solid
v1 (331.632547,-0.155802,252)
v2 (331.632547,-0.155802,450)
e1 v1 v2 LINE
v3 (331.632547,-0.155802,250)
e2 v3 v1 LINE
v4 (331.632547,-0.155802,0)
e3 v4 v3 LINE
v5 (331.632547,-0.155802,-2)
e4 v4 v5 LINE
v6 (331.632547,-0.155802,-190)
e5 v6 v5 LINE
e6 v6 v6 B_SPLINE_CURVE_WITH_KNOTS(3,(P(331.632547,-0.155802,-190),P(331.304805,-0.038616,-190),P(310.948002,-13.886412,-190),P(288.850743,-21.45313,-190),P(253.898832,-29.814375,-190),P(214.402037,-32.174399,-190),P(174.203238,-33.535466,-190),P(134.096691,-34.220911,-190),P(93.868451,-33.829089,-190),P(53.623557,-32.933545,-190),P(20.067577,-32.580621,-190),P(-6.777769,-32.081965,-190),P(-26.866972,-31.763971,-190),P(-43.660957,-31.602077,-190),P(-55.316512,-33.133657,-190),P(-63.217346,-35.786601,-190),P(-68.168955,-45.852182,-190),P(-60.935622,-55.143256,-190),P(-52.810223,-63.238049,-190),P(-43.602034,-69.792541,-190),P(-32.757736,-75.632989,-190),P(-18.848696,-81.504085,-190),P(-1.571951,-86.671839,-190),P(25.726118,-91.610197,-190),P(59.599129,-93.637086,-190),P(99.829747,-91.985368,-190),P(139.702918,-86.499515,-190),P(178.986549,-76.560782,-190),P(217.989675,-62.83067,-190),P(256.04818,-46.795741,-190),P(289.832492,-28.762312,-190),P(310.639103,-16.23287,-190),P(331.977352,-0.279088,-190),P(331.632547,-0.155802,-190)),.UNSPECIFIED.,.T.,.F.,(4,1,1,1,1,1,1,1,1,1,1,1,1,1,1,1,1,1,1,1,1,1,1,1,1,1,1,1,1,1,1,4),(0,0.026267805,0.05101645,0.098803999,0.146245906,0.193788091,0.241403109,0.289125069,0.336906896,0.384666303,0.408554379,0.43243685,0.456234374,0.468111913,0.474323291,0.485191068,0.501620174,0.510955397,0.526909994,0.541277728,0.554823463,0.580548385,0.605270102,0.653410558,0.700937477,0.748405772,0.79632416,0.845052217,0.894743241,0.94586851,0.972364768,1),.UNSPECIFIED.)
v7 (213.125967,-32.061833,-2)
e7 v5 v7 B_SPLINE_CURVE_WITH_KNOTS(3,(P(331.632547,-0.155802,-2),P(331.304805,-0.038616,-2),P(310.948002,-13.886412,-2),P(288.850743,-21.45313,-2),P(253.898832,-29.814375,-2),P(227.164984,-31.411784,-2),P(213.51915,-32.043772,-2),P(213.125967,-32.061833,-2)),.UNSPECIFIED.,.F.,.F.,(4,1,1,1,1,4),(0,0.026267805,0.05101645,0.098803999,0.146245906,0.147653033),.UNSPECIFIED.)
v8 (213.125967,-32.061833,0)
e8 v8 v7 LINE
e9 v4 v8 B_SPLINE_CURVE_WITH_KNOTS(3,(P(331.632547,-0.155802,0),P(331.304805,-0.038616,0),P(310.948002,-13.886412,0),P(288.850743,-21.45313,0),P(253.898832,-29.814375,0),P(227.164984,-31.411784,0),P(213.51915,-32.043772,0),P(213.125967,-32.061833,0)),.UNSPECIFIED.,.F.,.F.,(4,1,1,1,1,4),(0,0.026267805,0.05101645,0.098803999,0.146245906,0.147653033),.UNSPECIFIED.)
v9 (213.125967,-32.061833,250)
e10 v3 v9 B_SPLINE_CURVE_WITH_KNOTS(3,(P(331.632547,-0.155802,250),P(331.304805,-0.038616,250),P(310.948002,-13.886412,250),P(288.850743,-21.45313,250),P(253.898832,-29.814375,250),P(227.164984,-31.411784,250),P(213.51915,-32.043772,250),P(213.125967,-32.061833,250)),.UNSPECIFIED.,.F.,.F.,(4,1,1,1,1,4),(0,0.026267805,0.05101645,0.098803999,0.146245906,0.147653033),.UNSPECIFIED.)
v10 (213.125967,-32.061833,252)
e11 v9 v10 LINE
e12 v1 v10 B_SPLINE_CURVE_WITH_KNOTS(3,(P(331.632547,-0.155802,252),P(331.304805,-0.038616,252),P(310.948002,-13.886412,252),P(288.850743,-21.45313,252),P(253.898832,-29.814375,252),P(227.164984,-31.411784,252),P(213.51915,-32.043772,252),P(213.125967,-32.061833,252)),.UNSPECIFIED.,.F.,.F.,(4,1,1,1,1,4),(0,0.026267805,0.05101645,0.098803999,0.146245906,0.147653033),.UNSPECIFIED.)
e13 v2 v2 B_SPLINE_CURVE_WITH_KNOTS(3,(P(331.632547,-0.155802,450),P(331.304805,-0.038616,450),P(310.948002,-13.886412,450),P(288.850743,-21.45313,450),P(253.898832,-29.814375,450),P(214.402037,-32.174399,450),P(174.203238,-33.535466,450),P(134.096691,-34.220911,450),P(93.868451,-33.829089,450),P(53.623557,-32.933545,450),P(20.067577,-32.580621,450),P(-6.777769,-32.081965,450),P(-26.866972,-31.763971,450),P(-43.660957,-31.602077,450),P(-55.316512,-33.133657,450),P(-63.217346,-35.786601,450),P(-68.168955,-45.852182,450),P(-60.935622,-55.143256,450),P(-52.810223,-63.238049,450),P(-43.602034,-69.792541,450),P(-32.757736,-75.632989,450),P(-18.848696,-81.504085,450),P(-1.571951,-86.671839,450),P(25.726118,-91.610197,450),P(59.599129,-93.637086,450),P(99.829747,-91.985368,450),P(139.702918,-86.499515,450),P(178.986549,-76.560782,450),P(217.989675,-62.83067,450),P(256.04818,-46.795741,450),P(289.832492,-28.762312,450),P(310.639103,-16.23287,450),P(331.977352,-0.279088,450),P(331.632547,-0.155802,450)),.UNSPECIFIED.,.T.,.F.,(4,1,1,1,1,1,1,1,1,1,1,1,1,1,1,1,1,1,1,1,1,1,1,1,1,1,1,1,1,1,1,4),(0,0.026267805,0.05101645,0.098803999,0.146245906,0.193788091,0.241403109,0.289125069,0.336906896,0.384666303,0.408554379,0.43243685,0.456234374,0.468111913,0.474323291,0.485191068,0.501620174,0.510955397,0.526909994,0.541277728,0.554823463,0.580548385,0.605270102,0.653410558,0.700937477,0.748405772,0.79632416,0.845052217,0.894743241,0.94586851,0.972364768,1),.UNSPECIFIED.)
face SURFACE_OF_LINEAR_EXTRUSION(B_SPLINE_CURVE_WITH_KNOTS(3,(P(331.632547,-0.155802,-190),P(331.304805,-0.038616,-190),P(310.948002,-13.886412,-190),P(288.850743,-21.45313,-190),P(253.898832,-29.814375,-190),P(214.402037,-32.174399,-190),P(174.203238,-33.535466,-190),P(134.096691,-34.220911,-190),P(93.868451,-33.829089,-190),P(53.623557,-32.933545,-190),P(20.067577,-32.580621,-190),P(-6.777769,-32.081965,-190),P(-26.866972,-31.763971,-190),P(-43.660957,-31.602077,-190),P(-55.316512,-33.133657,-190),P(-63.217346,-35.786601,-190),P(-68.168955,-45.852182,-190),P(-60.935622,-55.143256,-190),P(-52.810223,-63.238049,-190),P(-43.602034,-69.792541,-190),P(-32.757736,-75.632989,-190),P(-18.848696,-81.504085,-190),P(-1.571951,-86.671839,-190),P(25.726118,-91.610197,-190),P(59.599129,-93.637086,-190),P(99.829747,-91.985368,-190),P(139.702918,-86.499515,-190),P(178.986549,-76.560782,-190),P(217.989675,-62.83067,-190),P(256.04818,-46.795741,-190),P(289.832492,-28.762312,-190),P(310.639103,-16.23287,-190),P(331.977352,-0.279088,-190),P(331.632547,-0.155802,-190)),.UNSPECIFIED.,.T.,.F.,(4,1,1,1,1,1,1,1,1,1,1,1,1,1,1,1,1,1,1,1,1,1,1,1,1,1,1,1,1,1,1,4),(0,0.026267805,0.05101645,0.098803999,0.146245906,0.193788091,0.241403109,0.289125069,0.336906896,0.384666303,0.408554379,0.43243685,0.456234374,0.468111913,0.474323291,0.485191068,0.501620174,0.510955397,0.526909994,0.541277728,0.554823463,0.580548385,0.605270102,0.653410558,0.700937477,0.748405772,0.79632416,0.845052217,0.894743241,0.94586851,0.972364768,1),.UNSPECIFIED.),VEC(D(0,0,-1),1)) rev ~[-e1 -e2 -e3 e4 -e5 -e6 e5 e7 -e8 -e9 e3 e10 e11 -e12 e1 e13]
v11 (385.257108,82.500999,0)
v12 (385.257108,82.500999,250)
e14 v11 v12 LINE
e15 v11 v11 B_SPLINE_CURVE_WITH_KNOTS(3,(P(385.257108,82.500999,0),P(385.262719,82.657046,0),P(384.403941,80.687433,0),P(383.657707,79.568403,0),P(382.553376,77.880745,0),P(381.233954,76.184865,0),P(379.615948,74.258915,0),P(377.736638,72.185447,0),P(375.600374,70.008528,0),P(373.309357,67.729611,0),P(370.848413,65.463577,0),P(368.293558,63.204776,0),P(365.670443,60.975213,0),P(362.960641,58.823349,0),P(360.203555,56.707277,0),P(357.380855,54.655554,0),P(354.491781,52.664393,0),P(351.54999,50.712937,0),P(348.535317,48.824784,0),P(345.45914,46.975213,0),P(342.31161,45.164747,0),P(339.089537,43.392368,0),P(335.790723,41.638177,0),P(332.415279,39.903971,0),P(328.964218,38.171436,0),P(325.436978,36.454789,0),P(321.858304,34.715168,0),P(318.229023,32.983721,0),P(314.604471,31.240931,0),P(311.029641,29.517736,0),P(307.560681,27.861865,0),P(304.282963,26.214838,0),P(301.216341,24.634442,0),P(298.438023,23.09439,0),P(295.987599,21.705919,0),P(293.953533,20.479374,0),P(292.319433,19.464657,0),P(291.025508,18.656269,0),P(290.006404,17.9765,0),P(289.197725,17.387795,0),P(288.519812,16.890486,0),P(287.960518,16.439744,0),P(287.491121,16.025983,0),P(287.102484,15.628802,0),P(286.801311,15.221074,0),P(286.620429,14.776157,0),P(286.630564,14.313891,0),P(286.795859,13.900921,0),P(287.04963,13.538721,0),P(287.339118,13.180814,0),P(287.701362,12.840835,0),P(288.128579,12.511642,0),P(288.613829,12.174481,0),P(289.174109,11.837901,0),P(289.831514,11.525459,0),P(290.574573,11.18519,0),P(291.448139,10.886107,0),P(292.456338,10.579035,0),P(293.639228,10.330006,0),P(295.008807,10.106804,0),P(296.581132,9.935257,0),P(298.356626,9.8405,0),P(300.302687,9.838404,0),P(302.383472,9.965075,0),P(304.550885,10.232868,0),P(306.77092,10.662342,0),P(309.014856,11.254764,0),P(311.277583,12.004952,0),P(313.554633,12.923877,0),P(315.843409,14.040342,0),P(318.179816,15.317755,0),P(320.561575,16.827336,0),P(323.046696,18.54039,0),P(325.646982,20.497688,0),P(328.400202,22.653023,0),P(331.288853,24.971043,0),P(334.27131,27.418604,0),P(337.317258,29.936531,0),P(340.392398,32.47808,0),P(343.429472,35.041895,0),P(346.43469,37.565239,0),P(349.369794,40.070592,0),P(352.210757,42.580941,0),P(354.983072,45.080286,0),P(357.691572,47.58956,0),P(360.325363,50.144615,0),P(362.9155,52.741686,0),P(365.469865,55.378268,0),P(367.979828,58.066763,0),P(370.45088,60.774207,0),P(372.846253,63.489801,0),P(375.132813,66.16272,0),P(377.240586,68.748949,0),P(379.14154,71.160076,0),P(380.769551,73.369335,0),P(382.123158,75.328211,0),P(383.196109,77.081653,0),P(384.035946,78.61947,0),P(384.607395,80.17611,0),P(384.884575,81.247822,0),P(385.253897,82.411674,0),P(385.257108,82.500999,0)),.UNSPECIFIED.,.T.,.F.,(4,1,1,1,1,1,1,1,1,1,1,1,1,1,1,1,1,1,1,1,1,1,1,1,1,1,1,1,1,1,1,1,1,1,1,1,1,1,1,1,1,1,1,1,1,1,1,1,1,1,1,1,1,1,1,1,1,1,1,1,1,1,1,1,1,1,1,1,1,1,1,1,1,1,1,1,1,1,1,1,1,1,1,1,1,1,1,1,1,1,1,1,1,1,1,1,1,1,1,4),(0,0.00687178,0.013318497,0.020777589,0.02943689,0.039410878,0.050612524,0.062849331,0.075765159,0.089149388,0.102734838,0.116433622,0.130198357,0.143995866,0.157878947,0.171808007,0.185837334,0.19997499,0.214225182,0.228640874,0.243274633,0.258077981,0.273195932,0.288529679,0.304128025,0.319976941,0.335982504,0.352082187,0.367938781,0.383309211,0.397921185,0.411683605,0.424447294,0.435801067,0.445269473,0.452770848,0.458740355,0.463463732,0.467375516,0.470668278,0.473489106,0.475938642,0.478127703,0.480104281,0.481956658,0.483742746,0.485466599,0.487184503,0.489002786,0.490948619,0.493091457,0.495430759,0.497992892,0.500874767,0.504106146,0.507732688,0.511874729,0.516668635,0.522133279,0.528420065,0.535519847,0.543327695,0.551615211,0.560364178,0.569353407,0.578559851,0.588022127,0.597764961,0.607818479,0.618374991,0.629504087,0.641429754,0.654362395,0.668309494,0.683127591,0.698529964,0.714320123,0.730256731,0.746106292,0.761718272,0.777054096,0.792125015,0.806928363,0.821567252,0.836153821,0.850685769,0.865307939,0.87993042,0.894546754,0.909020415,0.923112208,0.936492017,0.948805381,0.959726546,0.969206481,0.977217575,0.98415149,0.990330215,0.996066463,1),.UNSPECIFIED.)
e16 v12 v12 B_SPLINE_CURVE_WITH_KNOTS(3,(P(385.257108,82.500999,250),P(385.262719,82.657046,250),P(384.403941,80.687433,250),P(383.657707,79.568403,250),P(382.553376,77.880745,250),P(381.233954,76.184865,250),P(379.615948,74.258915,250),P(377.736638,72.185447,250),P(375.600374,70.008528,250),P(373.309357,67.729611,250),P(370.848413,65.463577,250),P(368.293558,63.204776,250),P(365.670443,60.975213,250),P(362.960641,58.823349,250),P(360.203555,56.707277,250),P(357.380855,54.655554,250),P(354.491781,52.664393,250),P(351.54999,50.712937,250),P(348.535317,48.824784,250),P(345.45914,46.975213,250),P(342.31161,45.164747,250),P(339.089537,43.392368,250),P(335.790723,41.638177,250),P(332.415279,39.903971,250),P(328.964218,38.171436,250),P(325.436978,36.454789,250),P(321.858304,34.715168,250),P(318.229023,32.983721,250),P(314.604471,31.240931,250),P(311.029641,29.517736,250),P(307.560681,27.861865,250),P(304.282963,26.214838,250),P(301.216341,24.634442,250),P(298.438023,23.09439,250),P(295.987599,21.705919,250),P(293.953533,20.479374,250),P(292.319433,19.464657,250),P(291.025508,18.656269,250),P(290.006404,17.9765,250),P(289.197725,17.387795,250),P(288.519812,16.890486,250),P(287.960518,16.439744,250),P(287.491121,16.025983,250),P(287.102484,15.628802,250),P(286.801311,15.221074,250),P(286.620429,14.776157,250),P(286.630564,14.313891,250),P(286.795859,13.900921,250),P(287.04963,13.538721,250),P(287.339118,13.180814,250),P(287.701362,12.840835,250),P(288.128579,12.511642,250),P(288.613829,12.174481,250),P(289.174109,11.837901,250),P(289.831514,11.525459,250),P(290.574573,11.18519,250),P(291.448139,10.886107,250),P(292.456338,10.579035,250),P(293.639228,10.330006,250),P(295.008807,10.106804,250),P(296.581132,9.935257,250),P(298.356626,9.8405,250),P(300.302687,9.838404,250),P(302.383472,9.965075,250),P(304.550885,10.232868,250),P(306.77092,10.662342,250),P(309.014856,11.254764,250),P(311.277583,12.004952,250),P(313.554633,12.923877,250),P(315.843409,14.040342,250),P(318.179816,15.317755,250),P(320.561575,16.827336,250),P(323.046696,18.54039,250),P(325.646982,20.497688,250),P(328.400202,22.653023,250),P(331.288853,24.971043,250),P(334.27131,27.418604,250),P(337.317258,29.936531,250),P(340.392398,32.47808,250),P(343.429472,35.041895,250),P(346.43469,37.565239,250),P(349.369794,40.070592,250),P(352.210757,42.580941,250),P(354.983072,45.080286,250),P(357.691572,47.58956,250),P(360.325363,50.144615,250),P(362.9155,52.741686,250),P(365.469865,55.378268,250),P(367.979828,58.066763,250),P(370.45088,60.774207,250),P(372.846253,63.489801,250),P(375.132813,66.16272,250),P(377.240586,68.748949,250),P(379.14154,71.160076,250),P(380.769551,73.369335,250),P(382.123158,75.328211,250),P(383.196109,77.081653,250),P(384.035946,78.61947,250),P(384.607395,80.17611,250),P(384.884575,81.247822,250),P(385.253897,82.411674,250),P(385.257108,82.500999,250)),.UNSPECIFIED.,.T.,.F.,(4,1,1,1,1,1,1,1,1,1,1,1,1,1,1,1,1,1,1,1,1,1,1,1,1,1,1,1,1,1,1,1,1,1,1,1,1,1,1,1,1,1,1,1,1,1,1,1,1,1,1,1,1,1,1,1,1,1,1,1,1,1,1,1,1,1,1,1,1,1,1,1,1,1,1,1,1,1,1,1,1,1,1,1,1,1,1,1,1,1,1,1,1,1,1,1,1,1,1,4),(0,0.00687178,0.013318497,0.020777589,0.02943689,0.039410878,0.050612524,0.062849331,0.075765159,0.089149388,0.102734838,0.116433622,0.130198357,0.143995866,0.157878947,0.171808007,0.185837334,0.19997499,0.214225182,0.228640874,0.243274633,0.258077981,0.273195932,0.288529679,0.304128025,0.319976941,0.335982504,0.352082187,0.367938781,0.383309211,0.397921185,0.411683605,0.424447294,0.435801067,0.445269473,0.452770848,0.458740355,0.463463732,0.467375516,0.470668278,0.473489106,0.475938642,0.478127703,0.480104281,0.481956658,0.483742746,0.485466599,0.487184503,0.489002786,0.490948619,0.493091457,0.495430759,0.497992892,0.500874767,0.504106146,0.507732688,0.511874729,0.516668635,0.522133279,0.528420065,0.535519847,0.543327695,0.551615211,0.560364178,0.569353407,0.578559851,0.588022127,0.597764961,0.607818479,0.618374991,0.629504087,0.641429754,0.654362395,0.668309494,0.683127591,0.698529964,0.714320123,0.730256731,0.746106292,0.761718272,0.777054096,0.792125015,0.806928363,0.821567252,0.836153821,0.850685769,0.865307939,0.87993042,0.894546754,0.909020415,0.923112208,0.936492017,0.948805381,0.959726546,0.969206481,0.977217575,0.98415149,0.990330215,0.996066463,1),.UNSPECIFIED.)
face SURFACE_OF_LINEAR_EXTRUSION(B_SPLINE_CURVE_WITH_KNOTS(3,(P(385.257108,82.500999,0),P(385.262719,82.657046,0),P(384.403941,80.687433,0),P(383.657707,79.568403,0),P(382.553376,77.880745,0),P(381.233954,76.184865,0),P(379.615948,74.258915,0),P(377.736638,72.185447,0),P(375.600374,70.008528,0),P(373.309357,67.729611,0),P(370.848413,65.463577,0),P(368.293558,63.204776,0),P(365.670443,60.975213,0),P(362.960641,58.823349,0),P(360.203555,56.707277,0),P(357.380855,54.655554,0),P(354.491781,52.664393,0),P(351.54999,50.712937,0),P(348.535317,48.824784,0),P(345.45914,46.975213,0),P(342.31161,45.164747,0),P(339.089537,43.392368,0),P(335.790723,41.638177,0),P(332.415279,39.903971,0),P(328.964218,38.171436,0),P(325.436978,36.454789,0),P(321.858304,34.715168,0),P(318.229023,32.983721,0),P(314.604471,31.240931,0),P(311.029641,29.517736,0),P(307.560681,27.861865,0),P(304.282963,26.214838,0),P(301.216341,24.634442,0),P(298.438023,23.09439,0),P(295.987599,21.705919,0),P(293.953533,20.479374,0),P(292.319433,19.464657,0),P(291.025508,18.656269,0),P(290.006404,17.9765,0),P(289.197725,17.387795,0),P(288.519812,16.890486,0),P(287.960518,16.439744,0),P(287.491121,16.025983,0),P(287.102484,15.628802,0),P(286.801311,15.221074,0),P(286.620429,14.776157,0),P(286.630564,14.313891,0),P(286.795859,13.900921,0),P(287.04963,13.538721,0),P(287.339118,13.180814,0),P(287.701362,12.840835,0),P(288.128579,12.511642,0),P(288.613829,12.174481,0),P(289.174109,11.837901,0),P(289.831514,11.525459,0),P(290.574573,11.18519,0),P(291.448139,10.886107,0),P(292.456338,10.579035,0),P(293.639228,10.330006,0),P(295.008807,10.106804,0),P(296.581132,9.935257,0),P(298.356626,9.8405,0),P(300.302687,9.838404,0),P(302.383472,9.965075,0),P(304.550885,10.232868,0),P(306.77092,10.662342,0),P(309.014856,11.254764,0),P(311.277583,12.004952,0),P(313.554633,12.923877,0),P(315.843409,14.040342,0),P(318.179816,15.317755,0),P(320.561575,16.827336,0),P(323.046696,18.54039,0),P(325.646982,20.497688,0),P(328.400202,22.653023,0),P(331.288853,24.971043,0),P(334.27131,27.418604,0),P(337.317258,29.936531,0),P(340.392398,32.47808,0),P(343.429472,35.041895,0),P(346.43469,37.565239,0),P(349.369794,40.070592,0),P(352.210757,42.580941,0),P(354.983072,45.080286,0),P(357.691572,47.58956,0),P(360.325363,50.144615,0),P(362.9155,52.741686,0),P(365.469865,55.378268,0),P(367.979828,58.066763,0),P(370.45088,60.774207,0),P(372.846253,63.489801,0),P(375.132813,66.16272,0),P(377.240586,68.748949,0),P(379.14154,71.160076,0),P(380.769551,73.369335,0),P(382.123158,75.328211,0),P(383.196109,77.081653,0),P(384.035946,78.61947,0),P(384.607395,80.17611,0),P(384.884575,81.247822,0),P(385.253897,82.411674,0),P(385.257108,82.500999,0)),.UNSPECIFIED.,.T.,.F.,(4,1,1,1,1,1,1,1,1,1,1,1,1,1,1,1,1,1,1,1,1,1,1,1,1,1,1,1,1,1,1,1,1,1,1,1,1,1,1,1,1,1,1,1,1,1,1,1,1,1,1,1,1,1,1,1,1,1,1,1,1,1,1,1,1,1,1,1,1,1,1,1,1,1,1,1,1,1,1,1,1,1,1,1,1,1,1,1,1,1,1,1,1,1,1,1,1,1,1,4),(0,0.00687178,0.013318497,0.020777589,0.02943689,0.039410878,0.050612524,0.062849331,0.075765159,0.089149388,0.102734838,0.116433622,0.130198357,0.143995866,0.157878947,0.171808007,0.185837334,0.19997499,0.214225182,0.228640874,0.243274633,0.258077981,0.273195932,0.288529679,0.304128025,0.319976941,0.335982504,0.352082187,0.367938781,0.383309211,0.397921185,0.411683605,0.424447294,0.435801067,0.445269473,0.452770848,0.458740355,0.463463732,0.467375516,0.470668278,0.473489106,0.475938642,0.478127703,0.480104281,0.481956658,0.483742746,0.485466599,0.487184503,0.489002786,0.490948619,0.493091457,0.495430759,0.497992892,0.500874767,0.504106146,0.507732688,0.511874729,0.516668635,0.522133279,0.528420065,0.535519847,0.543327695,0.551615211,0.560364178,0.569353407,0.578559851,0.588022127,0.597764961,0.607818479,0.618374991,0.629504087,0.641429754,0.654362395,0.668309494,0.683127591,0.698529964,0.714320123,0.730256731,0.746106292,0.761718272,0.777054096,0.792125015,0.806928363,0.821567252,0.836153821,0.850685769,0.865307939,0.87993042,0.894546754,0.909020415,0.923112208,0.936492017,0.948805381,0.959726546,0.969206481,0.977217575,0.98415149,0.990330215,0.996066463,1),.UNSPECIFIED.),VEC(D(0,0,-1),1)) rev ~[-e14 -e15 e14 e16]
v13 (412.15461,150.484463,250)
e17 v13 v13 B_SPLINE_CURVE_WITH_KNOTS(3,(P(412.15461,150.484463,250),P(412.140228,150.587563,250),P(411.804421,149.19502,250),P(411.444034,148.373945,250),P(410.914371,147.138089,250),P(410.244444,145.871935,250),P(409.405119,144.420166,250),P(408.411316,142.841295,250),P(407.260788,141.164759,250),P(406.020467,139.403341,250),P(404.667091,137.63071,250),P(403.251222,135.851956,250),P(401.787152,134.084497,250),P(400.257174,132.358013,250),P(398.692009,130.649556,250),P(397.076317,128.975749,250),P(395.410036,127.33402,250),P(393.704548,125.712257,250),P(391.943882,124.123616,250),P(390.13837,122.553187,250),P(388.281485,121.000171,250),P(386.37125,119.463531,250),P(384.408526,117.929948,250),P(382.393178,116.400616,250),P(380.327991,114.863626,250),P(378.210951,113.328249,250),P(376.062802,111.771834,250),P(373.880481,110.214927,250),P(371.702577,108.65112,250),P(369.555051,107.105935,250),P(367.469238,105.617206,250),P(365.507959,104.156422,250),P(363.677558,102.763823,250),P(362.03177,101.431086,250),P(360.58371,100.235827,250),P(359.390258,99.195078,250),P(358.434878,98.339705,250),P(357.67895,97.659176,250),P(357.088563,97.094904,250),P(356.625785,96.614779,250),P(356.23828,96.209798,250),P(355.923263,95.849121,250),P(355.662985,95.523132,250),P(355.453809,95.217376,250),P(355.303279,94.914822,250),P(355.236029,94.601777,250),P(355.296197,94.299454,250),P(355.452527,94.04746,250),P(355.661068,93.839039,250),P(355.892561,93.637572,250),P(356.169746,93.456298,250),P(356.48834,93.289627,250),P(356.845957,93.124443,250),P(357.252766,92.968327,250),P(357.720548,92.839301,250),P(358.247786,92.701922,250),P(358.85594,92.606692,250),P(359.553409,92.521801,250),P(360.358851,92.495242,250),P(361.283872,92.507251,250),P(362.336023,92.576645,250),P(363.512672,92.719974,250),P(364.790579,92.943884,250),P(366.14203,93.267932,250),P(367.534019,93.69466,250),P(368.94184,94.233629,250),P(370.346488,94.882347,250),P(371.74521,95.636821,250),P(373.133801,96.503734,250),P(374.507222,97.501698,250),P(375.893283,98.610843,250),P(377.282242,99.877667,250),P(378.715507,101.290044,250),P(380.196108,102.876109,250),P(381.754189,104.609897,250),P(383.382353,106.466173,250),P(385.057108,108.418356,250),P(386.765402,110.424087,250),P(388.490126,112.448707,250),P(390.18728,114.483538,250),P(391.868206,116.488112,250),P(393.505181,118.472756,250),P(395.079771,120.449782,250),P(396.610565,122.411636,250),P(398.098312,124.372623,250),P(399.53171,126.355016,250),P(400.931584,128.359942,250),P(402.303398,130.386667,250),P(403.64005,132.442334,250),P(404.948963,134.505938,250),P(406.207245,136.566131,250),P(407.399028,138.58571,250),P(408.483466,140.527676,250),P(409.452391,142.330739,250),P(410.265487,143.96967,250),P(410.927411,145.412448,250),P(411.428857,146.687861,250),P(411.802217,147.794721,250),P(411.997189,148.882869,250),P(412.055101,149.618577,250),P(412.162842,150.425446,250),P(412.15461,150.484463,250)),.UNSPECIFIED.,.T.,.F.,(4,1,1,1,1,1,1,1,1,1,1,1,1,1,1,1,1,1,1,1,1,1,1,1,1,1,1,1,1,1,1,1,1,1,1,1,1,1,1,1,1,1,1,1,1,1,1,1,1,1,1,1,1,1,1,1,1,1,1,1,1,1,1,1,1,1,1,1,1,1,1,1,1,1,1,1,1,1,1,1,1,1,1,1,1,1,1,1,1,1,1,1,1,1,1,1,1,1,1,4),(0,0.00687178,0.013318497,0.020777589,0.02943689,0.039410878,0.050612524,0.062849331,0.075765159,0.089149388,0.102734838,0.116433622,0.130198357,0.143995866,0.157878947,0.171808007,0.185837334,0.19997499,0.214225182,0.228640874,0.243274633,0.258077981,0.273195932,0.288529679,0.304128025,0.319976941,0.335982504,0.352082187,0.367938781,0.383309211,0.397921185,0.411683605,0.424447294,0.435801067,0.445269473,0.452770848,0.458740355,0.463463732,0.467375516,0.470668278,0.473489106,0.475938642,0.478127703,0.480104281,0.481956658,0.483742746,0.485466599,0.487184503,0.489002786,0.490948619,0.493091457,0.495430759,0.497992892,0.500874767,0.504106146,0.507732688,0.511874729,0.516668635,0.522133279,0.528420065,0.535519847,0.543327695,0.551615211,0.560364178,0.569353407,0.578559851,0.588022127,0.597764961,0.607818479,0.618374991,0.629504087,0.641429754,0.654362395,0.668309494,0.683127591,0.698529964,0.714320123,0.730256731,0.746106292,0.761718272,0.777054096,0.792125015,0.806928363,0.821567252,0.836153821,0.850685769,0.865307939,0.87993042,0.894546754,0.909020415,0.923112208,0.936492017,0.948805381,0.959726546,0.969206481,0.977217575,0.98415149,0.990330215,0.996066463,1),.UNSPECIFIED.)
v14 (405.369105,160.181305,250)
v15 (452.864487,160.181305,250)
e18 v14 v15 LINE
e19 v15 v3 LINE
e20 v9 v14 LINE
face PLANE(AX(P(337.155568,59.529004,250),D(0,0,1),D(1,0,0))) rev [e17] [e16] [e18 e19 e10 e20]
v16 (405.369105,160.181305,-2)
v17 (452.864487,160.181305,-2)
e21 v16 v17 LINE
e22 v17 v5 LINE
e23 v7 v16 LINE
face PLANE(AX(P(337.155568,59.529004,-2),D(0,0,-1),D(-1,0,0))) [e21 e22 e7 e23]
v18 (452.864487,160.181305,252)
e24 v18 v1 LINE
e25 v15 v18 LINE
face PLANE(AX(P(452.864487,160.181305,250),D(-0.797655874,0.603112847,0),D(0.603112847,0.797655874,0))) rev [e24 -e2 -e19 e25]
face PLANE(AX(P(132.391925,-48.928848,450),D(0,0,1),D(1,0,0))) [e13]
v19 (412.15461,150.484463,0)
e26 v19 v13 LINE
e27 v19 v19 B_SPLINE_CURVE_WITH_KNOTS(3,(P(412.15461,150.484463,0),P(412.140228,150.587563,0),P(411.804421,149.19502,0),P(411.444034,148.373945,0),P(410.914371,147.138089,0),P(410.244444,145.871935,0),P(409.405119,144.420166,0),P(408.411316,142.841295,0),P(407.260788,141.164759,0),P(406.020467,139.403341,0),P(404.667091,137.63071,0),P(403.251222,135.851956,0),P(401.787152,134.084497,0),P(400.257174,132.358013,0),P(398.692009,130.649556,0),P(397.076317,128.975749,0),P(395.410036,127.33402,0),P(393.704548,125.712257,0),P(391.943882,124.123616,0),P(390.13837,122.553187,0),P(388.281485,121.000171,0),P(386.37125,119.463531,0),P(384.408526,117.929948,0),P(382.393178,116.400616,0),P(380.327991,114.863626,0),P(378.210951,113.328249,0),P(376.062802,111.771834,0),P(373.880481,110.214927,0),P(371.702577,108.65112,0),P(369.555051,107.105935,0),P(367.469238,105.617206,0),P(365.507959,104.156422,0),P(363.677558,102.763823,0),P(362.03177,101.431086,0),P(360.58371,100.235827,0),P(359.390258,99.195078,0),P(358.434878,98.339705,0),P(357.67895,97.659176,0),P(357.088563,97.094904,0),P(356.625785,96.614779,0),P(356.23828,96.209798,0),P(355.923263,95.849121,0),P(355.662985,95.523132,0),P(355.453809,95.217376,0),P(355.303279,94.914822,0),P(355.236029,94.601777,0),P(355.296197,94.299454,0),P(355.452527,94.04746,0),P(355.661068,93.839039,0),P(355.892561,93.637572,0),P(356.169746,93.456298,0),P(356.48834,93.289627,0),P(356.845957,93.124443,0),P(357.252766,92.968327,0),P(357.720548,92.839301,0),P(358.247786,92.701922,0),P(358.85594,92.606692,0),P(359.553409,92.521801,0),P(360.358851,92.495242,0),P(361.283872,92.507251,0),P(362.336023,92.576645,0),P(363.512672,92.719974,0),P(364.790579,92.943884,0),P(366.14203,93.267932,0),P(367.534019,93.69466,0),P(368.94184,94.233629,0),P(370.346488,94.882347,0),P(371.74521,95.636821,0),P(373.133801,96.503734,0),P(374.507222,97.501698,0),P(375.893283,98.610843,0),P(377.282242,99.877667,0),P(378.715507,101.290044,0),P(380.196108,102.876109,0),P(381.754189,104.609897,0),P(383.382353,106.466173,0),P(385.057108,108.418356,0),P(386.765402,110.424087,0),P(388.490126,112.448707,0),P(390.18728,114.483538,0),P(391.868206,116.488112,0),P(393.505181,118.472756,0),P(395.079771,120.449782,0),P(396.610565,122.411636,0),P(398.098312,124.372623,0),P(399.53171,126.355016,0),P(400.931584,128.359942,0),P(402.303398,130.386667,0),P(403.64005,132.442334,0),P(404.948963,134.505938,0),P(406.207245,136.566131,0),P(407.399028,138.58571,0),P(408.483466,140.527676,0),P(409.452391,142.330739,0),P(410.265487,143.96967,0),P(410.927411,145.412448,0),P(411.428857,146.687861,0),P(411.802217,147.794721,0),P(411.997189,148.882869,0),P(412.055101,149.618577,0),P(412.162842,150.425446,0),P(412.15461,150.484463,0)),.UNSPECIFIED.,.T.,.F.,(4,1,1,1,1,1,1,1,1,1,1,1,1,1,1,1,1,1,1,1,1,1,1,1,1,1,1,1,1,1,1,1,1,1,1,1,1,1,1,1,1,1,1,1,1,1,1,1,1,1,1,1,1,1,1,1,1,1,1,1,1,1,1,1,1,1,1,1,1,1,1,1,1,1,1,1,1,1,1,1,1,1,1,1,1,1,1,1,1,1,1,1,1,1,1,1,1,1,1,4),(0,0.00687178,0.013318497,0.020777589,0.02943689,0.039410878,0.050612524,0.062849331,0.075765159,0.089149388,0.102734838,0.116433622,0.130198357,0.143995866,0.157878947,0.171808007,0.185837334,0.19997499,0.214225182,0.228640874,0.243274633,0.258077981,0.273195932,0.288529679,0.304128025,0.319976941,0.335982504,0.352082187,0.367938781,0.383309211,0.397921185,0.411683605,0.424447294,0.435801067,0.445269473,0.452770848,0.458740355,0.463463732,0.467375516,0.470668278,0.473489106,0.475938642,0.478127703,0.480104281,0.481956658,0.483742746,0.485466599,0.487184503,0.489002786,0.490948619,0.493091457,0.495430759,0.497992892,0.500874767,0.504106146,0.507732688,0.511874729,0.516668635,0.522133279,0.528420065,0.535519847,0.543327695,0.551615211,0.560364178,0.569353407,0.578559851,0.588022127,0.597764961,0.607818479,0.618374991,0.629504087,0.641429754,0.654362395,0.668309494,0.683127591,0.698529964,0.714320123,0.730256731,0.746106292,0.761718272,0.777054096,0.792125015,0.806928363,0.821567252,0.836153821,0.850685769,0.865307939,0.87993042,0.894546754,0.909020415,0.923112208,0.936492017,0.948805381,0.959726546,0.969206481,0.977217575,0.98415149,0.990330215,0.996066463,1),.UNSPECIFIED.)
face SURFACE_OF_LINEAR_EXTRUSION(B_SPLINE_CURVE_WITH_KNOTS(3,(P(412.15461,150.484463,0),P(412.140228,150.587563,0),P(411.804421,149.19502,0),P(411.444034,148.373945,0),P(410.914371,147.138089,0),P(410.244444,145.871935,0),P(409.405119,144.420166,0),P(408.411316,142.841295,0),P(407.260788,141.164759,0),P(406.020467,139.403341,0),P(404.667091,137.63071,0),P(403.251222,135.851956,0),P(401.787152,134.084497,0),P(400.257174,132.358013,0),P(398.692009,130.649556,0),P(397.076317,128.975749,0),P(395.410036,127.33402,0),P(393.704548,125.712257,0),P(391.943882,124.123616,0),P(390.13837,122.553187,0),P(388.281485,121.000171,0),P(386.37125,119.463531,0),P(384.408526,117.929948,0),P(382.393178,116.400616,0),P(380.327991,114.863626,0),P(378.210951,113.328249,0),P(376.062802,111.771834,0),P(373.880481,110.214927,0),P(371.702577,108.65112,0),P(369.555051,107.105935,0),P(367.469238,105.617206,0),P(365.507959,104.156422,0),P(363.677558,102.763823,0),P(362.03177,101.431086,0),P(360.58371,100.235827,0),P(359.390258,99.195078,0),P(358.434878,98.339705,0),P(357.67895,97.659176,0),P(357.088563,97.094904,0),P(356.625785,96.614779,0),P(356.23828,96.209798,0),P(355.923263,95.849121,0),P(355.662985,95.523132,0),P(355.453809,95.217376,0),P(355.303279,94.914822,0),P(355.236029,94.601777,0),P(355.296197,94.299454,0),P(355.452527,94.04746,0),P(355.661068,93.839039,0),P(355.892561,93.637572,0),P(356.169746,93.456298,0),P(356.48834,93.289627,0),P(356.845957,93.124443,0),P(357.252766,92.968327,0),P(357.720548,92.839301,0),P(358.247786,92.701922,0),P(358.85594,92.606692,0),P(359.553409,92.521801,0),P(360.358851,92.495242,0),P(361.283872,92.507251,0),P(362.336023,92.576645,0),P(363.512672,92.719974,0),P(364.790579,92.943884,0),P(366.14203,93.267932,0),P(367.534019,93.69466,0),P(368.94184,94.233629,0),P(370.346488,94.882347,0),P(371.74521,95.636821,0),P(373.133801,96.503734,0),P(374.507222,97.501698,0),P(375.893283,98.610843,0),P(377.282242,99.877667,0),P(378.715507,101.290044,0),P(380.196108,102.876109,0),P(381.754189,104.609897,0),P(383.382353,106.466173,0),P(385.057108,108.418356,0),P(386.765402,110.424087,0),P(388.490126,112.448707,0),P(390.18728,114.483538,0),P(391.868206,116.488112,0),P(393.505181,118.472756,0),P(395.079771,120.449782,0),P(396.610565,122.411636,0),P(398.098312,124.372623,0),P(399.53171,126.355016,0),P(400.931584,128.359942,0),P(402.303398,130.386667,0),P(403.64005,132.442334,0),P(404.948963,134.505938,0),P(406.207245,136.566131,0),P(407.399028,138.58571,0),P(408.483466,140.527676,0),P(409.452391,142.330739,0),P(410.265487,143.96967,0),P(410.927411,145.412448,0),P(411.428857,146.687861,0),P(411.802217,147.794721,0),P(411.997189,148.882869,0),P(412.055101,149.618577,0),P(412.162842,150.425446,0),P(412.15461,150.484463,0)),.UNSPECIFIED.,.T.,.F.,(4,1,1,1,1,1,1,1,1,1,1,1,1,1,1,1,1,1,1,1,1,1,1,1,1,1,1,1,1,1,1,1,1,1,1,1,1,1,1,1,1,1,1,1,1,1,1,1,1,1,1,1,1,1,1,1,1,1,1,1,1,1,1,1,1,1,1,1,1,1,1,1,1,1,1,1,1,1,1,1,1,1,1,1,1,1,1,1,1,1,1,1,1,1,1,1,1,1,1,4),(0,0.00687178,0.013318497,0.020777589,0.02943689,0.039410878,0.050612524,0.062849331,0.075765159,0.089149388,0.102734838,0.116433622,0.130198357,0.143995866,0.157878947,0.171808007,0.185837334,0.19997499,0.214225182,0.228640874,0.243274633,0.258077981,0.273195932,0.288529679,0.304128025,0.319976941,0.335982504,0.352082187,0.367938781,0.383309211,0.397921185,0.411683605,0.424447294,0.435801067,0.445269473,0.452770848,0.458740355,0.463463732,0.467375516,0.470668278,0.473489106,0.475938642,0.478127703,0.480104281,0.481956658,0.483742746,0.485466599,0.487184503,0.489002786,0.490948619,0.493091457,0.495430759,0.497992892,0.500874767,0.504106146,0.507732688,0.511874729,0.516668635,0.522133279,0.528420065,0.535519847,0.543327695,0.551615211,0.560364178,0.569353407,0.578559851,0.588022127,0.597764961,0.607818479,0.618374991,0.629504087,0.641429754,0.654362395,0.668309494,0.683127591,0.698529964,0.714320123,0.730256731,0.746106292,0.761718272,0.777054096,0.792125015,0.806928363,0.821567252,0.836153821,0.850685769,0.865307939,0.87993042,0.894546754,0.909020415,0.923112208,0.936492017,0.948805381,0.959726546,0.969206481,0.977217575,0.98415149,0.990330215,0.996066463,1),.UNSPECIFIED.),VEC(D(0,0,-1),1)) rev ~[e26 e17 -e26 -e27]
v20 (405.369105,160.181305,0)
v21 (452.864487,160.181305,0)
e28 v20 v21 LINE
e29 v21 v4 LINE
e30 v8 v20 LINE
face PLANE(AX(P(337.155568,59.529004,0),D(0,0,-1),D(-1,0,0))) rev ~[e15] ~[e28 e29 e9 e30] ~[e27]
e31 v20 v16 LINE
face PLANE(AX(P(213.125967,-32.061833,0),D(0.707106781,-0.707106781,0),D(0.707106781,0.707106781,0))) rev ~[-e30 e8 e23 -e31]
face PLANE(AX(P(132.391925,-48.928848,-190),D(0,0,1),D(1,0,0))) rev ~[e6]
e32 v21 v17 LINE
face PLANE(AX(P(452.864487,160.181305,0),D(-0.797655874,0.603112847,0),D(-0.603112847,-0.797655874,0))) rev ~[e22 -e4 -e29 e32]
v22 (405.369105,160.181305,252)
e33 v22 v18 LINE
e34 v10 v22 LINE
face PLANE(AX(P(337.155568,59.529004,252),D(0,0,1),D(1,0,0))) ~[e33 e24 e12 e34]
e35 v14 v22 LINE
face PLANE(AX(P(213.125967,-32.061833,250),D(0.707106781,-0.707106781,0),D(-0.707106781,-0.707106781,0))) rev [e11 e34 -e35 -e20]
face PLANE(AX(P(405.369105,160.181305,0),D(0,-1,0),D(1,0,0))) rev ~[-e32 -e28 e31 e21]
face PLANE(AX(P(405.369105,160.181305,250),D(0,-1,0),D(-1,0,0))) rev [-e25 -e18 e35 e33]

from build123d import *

# Parameters (mm, degrees)
BOSS_EXTRUDE1_DEPTH      = 450
BOSS_EXTRUDE1_DEPTH_BACK = 190
BOSS_EXTRUDE2_DEPTH      = 250
BOSS_EXTRUDE3_DEPTH      = 250
BOSS_EXTRUDE4_DEPTH      = 2


with BuildPart() as part:
    # Sketch2 → Boss-Extrude1 (new, two sides: drawn at the far end of the back side and taken through both)
    with BuildSketch(Plane.XY.offset(-BOSS_EXTRUDE1_DEPTH_BACK)):
        with BuildLine():
            add(Edge.make_bspline(
                [(331.632547469, -0.155801536), (331.304804648, -0.038615704), (310.948001787, -13.886411779), (288.850742925, -21.453130062), (253.898831549, -29.814375257), (214.402036751, -32.174399069), (174.203238421, -33.535466036), (134.096691432, -34.220910528), (93.868451095, -33.829088664), (53.62355674, -32.933544742), (20.067576666, -32.58062124), (-6.777768577, -32.081964586), (-26.866972083, -31.763971163), (-43.660957345, -31.602077129), (-55.316512, -33.133657225), (-63.217346314, -35.786601004), (-68.168954816, -45.852182452), (-60.935621688, -55.143256382), (-52.810223066, -63.238049464), (-43.602034193, -69.792541019), (-32.757735565, -75.632989434), (-18.848696071, -81.50408464), (-1.571951466, -86.671839376), (25.726118264, -91.610196978), (59.59912915, -93.637086079), (99.829747098, -91.985368399), (139.702918156, -86.499514592), (178.98654912, -76.560782021), (217.989675389, -62.830670059), (256.048180454, -46.795741281), (289.832491564, -28.762312202), (310.639103485, -16.232870327), (331.977351639, -0.279087725), (331.632547469, -0.155801536)],
                knots=[0, 0, 0, 0, 0.026267805, 0.05101645, 0.098803999, 0.146245906, 0.193788091, 0.241403109, 0.289125069, 0.336906896, 0.384666303, 0.408554379, 0.43243685, 0.456234374, 0.468111913, 0.474323291, 0.485191068, 0.501620174, 0.510955397, 0.526909994, 0.541277728, 0.554823463, 0.580548385, 0.605270102, 0.653410558, 0.700937477, 0.748405772, 0.79632416, 0.845052217, 0.894743241, 0.94586851, 0.972364768, 1, 1, 1, 1], degree=3))
        make_face()
    extrude(amount=BOSS_EXTRUDE1_DEPTH + BOSS_EXTRUDE1_DEPTH_BACK)



with BuildPart() as body_2:
    # Sketch2<3> → Boss-Extrude2 (new body)
    with BuildSketch(Plane.XY):
        with BuildLine():
            add(Edge.make_bspline(
                [(385.257108205, 82.500998533), (385.262718652, 82.657045888), (384.403940943, 80.687432876), (383.657706576, 79.56840288), (382.553376289, 77.880744826), (381.233954331, 76.184864639), (379.61594752, 74.258915124), (377.736638316, 72.185446603), (375.60037444, 70.008528092), (373.309357382, 67.729611065), (370.848412879, 65.463576841), (368.293558252, 63.204775791), (365.670442902, 60.975213159), (362.960640755, 58.823348985), (360.203555415, 56.707277406), (357.380855488, 54.655553979), (354.491780752, 52.664392505), (351.549990289, 50.712937144), (348.535317242, 48.824783821), (345.459140164, 46.97521262), (342.311610123, 45.164747337), (339.089536673, 43.392367707), (335.790722934, 41.638176888), (332.415279089, 39.903970969), (328.964217848, 38.171435976), (325.436978114, 36.454789012), (321.858304333, 34.715167763), (318.229022674, 32.983721032), (314.604470592, 31.240931416), (311.029640761, 29.517736405), (307.560681425, 27.861865366), (304.282963455, 26.214837697), (301.21634104, 24.634441536), (298.438022747, 23.094390469), (295.987599383, 21.705919431), (293.95353301, 20.479373817), (292.319432576, 19.464657151), (291.025508113, 18.656269033), (290.006404313, 17.976500048), (289.197724902, 17.387794544), (288.519811704, 16.890485717), (287.960517662, 16.43974363), (287.491120754, 16.025982717), (287.102483552, 15.628801651), (286.801311256, 15.221074048), (286.620429119, 14.776157027), (286.630563726, 14.313890741), (286.79585874, 13.900921156), (287.049630073, 13.538720769), (287.33911776, 13.180813577), (287.701362098, 12.840834513), (288.12857904, 12.511641561), (288.613828785, 12.17448135), (289.174108848, 11.837901495), (289.831514382, 11.525459152), (290.574572898, 11.185189517), (291.448138906, 10.886107434), (292.456337958, 10.57903469), (293.639228133, 10.330006302), (295.008806857, 10.106803979), (296.581131911, 9.935256527), (298.356625654, 9.840500169), (300.302687346, 9.838403517), (302.383471629, 9.965075455), (304.550884742, 10.23286767), (306.770919976, 10.662341838), (309.014855996, 11.254763585), (311.277583013, 12.004951978), (313.554633497, 12.923876771), (315.843408831, 14.040342457), (318.179815559, 15.317754704), (320.56157534, 16.827336468), (323.046696009, 18.540389618), (325.646982127, 20.497688236), (328.400201588, 22.653022964), (331.288852626, 24.971043441), (334.271310095, 27.418603889), (337.317258268, 29.936530581), (340.392398086, 32.478079948), (343.429471804, 35.041894513), (346.434689872, 37.565239214), (349.369794303, 40.070591518), (352.210756975, 42.580941419), (354.983071887, 45.080285535), (357.691572396, 47.589560364), (360.325362768, 50.144615375), (362.915500017, 52.741685683), (365.469865367, 55.378268458), (367.979827785, 58.066762505), (370.450880224, 60.774207375), (372.8462526, 63.48980126), (375.132812849, 66.162720111), (377.240585914, 68.748948508), (379.141540172, 71.160075747), (380.769551114, 73.369334894), (382.123157635, 75.328211383), (383.196109299, 77.0816532), (384.035946379, 78.61947015), (384.607394543, 80.176109737), (384.884574537, 81.247822033), (385.253896678, 82.411674068), (385.257108205, 82.500998533)],
                knots=[0, 0, 0, 0, 0.00687178, 0.013318497, 0.020777589, 0.02943689, 0.039410878, 0.050612524, 0.062849331, 0.075765159, 0.089149388, 0.102734838, 0.116433622, 0.130198357, 0.143995866, 0.157878947, 0.171808007, 0.185837334, 0.19997499, 0.214225182, 0.228640874, 0.243274633, 0.258077981, 0.273195932, 0.288529679, 0.304128025, 0.319976941, 0.335982504, 0.352082187, 0.367938781, 0.383309211, 0.397921185, 0.411683605, 0.424447294, 0.435801067, 0.445269473, 0.452770848, 0.458740355, 0.463463732, 0.467375516, 0.470668278, 0.473489106, 0.475938642, 0.478127703, 0.480104281, 0.481956658, 0.483742746, 0.485466599, 0.487184503, 0.489002786, 0.490948619, 0.493091457, 0.495430759, 0.497992892, 0.500874767, 0.504106146, 0.507732688, 0.511874729, 0.516668635, 0.522133279, 0.528420065, 0.535519847, 0.543327695, 0.551615211, 0.560364178, 0.569353407, 0.578559851, 0.588022127, 0.597764961, 0.607818479, 0.618374991, 0.629504087, 0.641429754, 0.654362395, 0.668309494, 0.683127591, 0.698529964, 0.714320123, 0.730256731, 0.746106292, 0.761718272, 0.777054096, 0.792125015, 0.806928363, 0.821567252, 0.836153821, 0.850685769, 0.865307939, 0.87993042, 0.894546754, 0.909020415, 0.923112208, 0.936492017, 0.948805381, 0.959726546, 0.969206481, 0.977217575, 0.98415149, 0.990330215, 0.996066463, 1, 1, 1, 1], degree=3))
        make_face()
    extrude(amount=BOSS_EXTRUDE2_DEPTH)


with BuildPart() as body_3:
    # Sketch2<4> → Boss-Extrude3 (new body)
    with BuildSketch(Plane.XY):
        with BuildLine():
            add(Edge.make_bspline(
                [(412.154609526, 150.484462569), (412.140228109, 150.587563161), (411.804420618, 149.195019595), (411.444034038, 148.37394516), (410.914371183, 147.138089374), (410.244444203, 145.871935257), (409.405118851, 144.420165959), (408.411316021, 142.841294963), (407.26078849, 141.164758592), (406.020467443, 139.403341197), (404.667091101, 137.630710129), (403.251221795, 135.851956371), (401.787151898, 134.084496527), (400.257173984, 132.358013376), (398.692009287, 130.649555681), (397.076316795, 128.975749124), (395.410035703, 127.33401991), (393.704548111, 125.712256629), (391.943882107, 124.123616288), (390.138369862, 122.553186552), (388.281484535, 121.000171151), (386.371249588, 119.463530895), (384.40852605, 117.929948419), (382.393178336, 116.400615682), (380.327991454, 114.863626089), (378.210951174, 113.328248762), (376.062802091, 111.771833645), (373.880480661, 110.214926771), (371.702577493, 108.651120378), (369.55505052, 107.105934717), (367.469237813, 105.61720598), (365.507958669, 104.156422401), (363.677558258, 102.763822543), (362.031770035, 101.43108645), (360.583709728, 100.235827387), (359.390258446, 99.195078354), (358.434877728, 98.339705419), (357.678949914, 97.659175745), (357.088562796, 97.094904222), (356.625785385, 96.614779255), (356.238280452, 96.209797935), (355.92326274, 95.849121473), (355.662984816, 95.523131558), (355.453809375, 95.217376135), (355.303278937, 94.914821918), (355.23602887, 94.601776861), (355.296197095, 94.299454484), (355.452527247, 94.047459503), (355.661068189, 93.839038956), (355.892561289, 93.637571778), (356.169746474, 93.456297812), (356.488340016, 93.289626927), (356.845956661, 93.124443423), (357.252766413, 92.968326863), (357.720548487, 92.839301284), (358.24778648, 92.701921672), (358.855939571, 92.606691533), (359.553409481, 92.521801073), (360.358851308, 92.495242163), (361.283871589, 92.507251144), (362.336022794, 92.576644557), (363.512672308, 92.719974196), (364.790579456, 92.943884373), (366.142030218, 93.267932311), (367.53401929, 93.694659769), (368.941839626, 94.233629477), (370.346488048, 94.882347431), (371.745209556, 95.63682061), (373.133801126, 96.503733895), (374.507222101, 97.501697714), (375.893282868, 98.610843218), (377.282242452, 99.877667265), (378.715507482, 101.290043731), (380.196107875, 102.876108931), (381.754189157, 104.609896859), (383.382353095, 106.466172544), (385.057108313, 108.418355749), (386.765401642, 110.424087135), (388.490125721, 112.448707099), (390.187280399, 114.483538284), (391.868205628, 116.488111662), (393.505181453, 118.472755601), (395.07977104, 120.449782292), (396.610564819, 122.411636222), (398.098312352, 124.372622544), (399.531710039, 126.355016465), (400.931583852, 128.359941524), (402.303397855, 130.386666888), (403.640050093, 132.442333676), (404.948962582, 134.505937977), (406.20724482, 136.566131284), (407.399028003, 138.585710102), (408.483466274, 140.527675921), (409.452390702, 142.330738615), (410.265486683, 143.969669729), (410.927411259, 145.412448434), (411.428857353, 146.687861232), (411.802216658, 147.794721388), (411.997189294, 148.882869166), (412.055101374, 149.618577418), (412.162841723, 150.425445835), (412.154609526, 150.484462569)],
                knots=[0, 0, 0, 0, 0.00687178, 0.013318497, 0.020777589, 0.02943689, 0.039410878, 0.050612524, 0.062849331, 0.075765159, 0.089149388, 0.102734838, 0.116433622, 0.130198357, 0.143995866, 0.157878947, 0.171808007, 0.185837334, 0.19997499, 0.214225182, 0.228640874, 0.243274633, 0.258077981, 0.273195932, 0.288529679, 0.304128025, 0.319976941, 0.335982504, 0.352082187, 0.367938781, 0.383309211, 0.397921185, 0.411683605, 0.424447294, 0.435801067, 0.445269473, 0.452770848, 0.458740355, 0.463463732, 0.467375516, 0.470668278, 0.473489106, 0.475938642, 0.478127703, 0.480104281, 0.481956658, 0.483742746, 0.485466599, 0.487184503, 0.489002786, 0.490948619, 0.493091457, 0.495430759, 0.497992892, 0.500874767, 0.504106146, 0.507732688, 0.511874729, 0.516668635, 0.522133279, 0.528420065, 0.535519847, 0.543327695, 0.551615211, 0.560364178, 0.569353407, 0.578559851, 0.588022127, 0.597764961, 0.607818479, 0.618374991, 0.629504087, 0.641429754, 0.654362395, 0.668309494, 0.683127591, 0.698529964, 0.714320123, 0.730256731, 0.746106292, 0.761718272, 0.777054096, 0.792125015, 0.806928363, 0.821567252, 0.836153821, 0.850685769, 0.865307939, 0.87993042, 0.894546754, 0.909020415, 0.923112208, 0.936492017, 0.948805381, 0.959726546, 0.969206481, 0.977217575, 0.98415149, 0.990330215, 0.996066463, 1, 1, 1, 1], degree=3))
        make_face()
    extrude(amount=BOSS_EXTRUDE3_DEPTH)


with BuildPart() as part_1:
    add(part.part)

    add(body_2.part)  # Boss-Extrude4 merges body 2

    add(body_3.part)  # Boss-Extrude4 merges body 3
    # Sketch3 → Boss-Extrude4 (add)
    with BuildSketch(Plane.XY):
        with BuildLine():
            Line((213.125966849, -32.061833101), (405.369105002, 160.181305053))
            Line((405.369105002, 160.181305053), (452.864487175, 160.181305053))
            Line((452.864487175, 160.181305053), (331.632547469, -0.155801536))
            add(Edge.make_bspline(
                [(331.632547469, -0.155801536), (331.304804648, -0.038615704), (310.948001787, -13.886411779), (288.850742925, -21.453130062), (253.898831549, -29.814375257), (227.164983916, -31.411783789), (213.51914951, -32.043772488), (213.125966849, -32.061833101)],
                knots=[0, 0, 0, 0, 0.026267805, 0.05101645, 0.098803999, 0.146245906, 0.147653033, 0.147653033, 0.147653033, 0.147653033], degree=3))
        make_face()
    boss_extrude4 = extrude(amount=-BOSS_EXTRUDE4_DEPTH)

    # Mirror1: Boss-Extrude4 across plane
    add(boss_extrude4.mirror(Plane.XY.offset(125)))


solid = part_1.part
